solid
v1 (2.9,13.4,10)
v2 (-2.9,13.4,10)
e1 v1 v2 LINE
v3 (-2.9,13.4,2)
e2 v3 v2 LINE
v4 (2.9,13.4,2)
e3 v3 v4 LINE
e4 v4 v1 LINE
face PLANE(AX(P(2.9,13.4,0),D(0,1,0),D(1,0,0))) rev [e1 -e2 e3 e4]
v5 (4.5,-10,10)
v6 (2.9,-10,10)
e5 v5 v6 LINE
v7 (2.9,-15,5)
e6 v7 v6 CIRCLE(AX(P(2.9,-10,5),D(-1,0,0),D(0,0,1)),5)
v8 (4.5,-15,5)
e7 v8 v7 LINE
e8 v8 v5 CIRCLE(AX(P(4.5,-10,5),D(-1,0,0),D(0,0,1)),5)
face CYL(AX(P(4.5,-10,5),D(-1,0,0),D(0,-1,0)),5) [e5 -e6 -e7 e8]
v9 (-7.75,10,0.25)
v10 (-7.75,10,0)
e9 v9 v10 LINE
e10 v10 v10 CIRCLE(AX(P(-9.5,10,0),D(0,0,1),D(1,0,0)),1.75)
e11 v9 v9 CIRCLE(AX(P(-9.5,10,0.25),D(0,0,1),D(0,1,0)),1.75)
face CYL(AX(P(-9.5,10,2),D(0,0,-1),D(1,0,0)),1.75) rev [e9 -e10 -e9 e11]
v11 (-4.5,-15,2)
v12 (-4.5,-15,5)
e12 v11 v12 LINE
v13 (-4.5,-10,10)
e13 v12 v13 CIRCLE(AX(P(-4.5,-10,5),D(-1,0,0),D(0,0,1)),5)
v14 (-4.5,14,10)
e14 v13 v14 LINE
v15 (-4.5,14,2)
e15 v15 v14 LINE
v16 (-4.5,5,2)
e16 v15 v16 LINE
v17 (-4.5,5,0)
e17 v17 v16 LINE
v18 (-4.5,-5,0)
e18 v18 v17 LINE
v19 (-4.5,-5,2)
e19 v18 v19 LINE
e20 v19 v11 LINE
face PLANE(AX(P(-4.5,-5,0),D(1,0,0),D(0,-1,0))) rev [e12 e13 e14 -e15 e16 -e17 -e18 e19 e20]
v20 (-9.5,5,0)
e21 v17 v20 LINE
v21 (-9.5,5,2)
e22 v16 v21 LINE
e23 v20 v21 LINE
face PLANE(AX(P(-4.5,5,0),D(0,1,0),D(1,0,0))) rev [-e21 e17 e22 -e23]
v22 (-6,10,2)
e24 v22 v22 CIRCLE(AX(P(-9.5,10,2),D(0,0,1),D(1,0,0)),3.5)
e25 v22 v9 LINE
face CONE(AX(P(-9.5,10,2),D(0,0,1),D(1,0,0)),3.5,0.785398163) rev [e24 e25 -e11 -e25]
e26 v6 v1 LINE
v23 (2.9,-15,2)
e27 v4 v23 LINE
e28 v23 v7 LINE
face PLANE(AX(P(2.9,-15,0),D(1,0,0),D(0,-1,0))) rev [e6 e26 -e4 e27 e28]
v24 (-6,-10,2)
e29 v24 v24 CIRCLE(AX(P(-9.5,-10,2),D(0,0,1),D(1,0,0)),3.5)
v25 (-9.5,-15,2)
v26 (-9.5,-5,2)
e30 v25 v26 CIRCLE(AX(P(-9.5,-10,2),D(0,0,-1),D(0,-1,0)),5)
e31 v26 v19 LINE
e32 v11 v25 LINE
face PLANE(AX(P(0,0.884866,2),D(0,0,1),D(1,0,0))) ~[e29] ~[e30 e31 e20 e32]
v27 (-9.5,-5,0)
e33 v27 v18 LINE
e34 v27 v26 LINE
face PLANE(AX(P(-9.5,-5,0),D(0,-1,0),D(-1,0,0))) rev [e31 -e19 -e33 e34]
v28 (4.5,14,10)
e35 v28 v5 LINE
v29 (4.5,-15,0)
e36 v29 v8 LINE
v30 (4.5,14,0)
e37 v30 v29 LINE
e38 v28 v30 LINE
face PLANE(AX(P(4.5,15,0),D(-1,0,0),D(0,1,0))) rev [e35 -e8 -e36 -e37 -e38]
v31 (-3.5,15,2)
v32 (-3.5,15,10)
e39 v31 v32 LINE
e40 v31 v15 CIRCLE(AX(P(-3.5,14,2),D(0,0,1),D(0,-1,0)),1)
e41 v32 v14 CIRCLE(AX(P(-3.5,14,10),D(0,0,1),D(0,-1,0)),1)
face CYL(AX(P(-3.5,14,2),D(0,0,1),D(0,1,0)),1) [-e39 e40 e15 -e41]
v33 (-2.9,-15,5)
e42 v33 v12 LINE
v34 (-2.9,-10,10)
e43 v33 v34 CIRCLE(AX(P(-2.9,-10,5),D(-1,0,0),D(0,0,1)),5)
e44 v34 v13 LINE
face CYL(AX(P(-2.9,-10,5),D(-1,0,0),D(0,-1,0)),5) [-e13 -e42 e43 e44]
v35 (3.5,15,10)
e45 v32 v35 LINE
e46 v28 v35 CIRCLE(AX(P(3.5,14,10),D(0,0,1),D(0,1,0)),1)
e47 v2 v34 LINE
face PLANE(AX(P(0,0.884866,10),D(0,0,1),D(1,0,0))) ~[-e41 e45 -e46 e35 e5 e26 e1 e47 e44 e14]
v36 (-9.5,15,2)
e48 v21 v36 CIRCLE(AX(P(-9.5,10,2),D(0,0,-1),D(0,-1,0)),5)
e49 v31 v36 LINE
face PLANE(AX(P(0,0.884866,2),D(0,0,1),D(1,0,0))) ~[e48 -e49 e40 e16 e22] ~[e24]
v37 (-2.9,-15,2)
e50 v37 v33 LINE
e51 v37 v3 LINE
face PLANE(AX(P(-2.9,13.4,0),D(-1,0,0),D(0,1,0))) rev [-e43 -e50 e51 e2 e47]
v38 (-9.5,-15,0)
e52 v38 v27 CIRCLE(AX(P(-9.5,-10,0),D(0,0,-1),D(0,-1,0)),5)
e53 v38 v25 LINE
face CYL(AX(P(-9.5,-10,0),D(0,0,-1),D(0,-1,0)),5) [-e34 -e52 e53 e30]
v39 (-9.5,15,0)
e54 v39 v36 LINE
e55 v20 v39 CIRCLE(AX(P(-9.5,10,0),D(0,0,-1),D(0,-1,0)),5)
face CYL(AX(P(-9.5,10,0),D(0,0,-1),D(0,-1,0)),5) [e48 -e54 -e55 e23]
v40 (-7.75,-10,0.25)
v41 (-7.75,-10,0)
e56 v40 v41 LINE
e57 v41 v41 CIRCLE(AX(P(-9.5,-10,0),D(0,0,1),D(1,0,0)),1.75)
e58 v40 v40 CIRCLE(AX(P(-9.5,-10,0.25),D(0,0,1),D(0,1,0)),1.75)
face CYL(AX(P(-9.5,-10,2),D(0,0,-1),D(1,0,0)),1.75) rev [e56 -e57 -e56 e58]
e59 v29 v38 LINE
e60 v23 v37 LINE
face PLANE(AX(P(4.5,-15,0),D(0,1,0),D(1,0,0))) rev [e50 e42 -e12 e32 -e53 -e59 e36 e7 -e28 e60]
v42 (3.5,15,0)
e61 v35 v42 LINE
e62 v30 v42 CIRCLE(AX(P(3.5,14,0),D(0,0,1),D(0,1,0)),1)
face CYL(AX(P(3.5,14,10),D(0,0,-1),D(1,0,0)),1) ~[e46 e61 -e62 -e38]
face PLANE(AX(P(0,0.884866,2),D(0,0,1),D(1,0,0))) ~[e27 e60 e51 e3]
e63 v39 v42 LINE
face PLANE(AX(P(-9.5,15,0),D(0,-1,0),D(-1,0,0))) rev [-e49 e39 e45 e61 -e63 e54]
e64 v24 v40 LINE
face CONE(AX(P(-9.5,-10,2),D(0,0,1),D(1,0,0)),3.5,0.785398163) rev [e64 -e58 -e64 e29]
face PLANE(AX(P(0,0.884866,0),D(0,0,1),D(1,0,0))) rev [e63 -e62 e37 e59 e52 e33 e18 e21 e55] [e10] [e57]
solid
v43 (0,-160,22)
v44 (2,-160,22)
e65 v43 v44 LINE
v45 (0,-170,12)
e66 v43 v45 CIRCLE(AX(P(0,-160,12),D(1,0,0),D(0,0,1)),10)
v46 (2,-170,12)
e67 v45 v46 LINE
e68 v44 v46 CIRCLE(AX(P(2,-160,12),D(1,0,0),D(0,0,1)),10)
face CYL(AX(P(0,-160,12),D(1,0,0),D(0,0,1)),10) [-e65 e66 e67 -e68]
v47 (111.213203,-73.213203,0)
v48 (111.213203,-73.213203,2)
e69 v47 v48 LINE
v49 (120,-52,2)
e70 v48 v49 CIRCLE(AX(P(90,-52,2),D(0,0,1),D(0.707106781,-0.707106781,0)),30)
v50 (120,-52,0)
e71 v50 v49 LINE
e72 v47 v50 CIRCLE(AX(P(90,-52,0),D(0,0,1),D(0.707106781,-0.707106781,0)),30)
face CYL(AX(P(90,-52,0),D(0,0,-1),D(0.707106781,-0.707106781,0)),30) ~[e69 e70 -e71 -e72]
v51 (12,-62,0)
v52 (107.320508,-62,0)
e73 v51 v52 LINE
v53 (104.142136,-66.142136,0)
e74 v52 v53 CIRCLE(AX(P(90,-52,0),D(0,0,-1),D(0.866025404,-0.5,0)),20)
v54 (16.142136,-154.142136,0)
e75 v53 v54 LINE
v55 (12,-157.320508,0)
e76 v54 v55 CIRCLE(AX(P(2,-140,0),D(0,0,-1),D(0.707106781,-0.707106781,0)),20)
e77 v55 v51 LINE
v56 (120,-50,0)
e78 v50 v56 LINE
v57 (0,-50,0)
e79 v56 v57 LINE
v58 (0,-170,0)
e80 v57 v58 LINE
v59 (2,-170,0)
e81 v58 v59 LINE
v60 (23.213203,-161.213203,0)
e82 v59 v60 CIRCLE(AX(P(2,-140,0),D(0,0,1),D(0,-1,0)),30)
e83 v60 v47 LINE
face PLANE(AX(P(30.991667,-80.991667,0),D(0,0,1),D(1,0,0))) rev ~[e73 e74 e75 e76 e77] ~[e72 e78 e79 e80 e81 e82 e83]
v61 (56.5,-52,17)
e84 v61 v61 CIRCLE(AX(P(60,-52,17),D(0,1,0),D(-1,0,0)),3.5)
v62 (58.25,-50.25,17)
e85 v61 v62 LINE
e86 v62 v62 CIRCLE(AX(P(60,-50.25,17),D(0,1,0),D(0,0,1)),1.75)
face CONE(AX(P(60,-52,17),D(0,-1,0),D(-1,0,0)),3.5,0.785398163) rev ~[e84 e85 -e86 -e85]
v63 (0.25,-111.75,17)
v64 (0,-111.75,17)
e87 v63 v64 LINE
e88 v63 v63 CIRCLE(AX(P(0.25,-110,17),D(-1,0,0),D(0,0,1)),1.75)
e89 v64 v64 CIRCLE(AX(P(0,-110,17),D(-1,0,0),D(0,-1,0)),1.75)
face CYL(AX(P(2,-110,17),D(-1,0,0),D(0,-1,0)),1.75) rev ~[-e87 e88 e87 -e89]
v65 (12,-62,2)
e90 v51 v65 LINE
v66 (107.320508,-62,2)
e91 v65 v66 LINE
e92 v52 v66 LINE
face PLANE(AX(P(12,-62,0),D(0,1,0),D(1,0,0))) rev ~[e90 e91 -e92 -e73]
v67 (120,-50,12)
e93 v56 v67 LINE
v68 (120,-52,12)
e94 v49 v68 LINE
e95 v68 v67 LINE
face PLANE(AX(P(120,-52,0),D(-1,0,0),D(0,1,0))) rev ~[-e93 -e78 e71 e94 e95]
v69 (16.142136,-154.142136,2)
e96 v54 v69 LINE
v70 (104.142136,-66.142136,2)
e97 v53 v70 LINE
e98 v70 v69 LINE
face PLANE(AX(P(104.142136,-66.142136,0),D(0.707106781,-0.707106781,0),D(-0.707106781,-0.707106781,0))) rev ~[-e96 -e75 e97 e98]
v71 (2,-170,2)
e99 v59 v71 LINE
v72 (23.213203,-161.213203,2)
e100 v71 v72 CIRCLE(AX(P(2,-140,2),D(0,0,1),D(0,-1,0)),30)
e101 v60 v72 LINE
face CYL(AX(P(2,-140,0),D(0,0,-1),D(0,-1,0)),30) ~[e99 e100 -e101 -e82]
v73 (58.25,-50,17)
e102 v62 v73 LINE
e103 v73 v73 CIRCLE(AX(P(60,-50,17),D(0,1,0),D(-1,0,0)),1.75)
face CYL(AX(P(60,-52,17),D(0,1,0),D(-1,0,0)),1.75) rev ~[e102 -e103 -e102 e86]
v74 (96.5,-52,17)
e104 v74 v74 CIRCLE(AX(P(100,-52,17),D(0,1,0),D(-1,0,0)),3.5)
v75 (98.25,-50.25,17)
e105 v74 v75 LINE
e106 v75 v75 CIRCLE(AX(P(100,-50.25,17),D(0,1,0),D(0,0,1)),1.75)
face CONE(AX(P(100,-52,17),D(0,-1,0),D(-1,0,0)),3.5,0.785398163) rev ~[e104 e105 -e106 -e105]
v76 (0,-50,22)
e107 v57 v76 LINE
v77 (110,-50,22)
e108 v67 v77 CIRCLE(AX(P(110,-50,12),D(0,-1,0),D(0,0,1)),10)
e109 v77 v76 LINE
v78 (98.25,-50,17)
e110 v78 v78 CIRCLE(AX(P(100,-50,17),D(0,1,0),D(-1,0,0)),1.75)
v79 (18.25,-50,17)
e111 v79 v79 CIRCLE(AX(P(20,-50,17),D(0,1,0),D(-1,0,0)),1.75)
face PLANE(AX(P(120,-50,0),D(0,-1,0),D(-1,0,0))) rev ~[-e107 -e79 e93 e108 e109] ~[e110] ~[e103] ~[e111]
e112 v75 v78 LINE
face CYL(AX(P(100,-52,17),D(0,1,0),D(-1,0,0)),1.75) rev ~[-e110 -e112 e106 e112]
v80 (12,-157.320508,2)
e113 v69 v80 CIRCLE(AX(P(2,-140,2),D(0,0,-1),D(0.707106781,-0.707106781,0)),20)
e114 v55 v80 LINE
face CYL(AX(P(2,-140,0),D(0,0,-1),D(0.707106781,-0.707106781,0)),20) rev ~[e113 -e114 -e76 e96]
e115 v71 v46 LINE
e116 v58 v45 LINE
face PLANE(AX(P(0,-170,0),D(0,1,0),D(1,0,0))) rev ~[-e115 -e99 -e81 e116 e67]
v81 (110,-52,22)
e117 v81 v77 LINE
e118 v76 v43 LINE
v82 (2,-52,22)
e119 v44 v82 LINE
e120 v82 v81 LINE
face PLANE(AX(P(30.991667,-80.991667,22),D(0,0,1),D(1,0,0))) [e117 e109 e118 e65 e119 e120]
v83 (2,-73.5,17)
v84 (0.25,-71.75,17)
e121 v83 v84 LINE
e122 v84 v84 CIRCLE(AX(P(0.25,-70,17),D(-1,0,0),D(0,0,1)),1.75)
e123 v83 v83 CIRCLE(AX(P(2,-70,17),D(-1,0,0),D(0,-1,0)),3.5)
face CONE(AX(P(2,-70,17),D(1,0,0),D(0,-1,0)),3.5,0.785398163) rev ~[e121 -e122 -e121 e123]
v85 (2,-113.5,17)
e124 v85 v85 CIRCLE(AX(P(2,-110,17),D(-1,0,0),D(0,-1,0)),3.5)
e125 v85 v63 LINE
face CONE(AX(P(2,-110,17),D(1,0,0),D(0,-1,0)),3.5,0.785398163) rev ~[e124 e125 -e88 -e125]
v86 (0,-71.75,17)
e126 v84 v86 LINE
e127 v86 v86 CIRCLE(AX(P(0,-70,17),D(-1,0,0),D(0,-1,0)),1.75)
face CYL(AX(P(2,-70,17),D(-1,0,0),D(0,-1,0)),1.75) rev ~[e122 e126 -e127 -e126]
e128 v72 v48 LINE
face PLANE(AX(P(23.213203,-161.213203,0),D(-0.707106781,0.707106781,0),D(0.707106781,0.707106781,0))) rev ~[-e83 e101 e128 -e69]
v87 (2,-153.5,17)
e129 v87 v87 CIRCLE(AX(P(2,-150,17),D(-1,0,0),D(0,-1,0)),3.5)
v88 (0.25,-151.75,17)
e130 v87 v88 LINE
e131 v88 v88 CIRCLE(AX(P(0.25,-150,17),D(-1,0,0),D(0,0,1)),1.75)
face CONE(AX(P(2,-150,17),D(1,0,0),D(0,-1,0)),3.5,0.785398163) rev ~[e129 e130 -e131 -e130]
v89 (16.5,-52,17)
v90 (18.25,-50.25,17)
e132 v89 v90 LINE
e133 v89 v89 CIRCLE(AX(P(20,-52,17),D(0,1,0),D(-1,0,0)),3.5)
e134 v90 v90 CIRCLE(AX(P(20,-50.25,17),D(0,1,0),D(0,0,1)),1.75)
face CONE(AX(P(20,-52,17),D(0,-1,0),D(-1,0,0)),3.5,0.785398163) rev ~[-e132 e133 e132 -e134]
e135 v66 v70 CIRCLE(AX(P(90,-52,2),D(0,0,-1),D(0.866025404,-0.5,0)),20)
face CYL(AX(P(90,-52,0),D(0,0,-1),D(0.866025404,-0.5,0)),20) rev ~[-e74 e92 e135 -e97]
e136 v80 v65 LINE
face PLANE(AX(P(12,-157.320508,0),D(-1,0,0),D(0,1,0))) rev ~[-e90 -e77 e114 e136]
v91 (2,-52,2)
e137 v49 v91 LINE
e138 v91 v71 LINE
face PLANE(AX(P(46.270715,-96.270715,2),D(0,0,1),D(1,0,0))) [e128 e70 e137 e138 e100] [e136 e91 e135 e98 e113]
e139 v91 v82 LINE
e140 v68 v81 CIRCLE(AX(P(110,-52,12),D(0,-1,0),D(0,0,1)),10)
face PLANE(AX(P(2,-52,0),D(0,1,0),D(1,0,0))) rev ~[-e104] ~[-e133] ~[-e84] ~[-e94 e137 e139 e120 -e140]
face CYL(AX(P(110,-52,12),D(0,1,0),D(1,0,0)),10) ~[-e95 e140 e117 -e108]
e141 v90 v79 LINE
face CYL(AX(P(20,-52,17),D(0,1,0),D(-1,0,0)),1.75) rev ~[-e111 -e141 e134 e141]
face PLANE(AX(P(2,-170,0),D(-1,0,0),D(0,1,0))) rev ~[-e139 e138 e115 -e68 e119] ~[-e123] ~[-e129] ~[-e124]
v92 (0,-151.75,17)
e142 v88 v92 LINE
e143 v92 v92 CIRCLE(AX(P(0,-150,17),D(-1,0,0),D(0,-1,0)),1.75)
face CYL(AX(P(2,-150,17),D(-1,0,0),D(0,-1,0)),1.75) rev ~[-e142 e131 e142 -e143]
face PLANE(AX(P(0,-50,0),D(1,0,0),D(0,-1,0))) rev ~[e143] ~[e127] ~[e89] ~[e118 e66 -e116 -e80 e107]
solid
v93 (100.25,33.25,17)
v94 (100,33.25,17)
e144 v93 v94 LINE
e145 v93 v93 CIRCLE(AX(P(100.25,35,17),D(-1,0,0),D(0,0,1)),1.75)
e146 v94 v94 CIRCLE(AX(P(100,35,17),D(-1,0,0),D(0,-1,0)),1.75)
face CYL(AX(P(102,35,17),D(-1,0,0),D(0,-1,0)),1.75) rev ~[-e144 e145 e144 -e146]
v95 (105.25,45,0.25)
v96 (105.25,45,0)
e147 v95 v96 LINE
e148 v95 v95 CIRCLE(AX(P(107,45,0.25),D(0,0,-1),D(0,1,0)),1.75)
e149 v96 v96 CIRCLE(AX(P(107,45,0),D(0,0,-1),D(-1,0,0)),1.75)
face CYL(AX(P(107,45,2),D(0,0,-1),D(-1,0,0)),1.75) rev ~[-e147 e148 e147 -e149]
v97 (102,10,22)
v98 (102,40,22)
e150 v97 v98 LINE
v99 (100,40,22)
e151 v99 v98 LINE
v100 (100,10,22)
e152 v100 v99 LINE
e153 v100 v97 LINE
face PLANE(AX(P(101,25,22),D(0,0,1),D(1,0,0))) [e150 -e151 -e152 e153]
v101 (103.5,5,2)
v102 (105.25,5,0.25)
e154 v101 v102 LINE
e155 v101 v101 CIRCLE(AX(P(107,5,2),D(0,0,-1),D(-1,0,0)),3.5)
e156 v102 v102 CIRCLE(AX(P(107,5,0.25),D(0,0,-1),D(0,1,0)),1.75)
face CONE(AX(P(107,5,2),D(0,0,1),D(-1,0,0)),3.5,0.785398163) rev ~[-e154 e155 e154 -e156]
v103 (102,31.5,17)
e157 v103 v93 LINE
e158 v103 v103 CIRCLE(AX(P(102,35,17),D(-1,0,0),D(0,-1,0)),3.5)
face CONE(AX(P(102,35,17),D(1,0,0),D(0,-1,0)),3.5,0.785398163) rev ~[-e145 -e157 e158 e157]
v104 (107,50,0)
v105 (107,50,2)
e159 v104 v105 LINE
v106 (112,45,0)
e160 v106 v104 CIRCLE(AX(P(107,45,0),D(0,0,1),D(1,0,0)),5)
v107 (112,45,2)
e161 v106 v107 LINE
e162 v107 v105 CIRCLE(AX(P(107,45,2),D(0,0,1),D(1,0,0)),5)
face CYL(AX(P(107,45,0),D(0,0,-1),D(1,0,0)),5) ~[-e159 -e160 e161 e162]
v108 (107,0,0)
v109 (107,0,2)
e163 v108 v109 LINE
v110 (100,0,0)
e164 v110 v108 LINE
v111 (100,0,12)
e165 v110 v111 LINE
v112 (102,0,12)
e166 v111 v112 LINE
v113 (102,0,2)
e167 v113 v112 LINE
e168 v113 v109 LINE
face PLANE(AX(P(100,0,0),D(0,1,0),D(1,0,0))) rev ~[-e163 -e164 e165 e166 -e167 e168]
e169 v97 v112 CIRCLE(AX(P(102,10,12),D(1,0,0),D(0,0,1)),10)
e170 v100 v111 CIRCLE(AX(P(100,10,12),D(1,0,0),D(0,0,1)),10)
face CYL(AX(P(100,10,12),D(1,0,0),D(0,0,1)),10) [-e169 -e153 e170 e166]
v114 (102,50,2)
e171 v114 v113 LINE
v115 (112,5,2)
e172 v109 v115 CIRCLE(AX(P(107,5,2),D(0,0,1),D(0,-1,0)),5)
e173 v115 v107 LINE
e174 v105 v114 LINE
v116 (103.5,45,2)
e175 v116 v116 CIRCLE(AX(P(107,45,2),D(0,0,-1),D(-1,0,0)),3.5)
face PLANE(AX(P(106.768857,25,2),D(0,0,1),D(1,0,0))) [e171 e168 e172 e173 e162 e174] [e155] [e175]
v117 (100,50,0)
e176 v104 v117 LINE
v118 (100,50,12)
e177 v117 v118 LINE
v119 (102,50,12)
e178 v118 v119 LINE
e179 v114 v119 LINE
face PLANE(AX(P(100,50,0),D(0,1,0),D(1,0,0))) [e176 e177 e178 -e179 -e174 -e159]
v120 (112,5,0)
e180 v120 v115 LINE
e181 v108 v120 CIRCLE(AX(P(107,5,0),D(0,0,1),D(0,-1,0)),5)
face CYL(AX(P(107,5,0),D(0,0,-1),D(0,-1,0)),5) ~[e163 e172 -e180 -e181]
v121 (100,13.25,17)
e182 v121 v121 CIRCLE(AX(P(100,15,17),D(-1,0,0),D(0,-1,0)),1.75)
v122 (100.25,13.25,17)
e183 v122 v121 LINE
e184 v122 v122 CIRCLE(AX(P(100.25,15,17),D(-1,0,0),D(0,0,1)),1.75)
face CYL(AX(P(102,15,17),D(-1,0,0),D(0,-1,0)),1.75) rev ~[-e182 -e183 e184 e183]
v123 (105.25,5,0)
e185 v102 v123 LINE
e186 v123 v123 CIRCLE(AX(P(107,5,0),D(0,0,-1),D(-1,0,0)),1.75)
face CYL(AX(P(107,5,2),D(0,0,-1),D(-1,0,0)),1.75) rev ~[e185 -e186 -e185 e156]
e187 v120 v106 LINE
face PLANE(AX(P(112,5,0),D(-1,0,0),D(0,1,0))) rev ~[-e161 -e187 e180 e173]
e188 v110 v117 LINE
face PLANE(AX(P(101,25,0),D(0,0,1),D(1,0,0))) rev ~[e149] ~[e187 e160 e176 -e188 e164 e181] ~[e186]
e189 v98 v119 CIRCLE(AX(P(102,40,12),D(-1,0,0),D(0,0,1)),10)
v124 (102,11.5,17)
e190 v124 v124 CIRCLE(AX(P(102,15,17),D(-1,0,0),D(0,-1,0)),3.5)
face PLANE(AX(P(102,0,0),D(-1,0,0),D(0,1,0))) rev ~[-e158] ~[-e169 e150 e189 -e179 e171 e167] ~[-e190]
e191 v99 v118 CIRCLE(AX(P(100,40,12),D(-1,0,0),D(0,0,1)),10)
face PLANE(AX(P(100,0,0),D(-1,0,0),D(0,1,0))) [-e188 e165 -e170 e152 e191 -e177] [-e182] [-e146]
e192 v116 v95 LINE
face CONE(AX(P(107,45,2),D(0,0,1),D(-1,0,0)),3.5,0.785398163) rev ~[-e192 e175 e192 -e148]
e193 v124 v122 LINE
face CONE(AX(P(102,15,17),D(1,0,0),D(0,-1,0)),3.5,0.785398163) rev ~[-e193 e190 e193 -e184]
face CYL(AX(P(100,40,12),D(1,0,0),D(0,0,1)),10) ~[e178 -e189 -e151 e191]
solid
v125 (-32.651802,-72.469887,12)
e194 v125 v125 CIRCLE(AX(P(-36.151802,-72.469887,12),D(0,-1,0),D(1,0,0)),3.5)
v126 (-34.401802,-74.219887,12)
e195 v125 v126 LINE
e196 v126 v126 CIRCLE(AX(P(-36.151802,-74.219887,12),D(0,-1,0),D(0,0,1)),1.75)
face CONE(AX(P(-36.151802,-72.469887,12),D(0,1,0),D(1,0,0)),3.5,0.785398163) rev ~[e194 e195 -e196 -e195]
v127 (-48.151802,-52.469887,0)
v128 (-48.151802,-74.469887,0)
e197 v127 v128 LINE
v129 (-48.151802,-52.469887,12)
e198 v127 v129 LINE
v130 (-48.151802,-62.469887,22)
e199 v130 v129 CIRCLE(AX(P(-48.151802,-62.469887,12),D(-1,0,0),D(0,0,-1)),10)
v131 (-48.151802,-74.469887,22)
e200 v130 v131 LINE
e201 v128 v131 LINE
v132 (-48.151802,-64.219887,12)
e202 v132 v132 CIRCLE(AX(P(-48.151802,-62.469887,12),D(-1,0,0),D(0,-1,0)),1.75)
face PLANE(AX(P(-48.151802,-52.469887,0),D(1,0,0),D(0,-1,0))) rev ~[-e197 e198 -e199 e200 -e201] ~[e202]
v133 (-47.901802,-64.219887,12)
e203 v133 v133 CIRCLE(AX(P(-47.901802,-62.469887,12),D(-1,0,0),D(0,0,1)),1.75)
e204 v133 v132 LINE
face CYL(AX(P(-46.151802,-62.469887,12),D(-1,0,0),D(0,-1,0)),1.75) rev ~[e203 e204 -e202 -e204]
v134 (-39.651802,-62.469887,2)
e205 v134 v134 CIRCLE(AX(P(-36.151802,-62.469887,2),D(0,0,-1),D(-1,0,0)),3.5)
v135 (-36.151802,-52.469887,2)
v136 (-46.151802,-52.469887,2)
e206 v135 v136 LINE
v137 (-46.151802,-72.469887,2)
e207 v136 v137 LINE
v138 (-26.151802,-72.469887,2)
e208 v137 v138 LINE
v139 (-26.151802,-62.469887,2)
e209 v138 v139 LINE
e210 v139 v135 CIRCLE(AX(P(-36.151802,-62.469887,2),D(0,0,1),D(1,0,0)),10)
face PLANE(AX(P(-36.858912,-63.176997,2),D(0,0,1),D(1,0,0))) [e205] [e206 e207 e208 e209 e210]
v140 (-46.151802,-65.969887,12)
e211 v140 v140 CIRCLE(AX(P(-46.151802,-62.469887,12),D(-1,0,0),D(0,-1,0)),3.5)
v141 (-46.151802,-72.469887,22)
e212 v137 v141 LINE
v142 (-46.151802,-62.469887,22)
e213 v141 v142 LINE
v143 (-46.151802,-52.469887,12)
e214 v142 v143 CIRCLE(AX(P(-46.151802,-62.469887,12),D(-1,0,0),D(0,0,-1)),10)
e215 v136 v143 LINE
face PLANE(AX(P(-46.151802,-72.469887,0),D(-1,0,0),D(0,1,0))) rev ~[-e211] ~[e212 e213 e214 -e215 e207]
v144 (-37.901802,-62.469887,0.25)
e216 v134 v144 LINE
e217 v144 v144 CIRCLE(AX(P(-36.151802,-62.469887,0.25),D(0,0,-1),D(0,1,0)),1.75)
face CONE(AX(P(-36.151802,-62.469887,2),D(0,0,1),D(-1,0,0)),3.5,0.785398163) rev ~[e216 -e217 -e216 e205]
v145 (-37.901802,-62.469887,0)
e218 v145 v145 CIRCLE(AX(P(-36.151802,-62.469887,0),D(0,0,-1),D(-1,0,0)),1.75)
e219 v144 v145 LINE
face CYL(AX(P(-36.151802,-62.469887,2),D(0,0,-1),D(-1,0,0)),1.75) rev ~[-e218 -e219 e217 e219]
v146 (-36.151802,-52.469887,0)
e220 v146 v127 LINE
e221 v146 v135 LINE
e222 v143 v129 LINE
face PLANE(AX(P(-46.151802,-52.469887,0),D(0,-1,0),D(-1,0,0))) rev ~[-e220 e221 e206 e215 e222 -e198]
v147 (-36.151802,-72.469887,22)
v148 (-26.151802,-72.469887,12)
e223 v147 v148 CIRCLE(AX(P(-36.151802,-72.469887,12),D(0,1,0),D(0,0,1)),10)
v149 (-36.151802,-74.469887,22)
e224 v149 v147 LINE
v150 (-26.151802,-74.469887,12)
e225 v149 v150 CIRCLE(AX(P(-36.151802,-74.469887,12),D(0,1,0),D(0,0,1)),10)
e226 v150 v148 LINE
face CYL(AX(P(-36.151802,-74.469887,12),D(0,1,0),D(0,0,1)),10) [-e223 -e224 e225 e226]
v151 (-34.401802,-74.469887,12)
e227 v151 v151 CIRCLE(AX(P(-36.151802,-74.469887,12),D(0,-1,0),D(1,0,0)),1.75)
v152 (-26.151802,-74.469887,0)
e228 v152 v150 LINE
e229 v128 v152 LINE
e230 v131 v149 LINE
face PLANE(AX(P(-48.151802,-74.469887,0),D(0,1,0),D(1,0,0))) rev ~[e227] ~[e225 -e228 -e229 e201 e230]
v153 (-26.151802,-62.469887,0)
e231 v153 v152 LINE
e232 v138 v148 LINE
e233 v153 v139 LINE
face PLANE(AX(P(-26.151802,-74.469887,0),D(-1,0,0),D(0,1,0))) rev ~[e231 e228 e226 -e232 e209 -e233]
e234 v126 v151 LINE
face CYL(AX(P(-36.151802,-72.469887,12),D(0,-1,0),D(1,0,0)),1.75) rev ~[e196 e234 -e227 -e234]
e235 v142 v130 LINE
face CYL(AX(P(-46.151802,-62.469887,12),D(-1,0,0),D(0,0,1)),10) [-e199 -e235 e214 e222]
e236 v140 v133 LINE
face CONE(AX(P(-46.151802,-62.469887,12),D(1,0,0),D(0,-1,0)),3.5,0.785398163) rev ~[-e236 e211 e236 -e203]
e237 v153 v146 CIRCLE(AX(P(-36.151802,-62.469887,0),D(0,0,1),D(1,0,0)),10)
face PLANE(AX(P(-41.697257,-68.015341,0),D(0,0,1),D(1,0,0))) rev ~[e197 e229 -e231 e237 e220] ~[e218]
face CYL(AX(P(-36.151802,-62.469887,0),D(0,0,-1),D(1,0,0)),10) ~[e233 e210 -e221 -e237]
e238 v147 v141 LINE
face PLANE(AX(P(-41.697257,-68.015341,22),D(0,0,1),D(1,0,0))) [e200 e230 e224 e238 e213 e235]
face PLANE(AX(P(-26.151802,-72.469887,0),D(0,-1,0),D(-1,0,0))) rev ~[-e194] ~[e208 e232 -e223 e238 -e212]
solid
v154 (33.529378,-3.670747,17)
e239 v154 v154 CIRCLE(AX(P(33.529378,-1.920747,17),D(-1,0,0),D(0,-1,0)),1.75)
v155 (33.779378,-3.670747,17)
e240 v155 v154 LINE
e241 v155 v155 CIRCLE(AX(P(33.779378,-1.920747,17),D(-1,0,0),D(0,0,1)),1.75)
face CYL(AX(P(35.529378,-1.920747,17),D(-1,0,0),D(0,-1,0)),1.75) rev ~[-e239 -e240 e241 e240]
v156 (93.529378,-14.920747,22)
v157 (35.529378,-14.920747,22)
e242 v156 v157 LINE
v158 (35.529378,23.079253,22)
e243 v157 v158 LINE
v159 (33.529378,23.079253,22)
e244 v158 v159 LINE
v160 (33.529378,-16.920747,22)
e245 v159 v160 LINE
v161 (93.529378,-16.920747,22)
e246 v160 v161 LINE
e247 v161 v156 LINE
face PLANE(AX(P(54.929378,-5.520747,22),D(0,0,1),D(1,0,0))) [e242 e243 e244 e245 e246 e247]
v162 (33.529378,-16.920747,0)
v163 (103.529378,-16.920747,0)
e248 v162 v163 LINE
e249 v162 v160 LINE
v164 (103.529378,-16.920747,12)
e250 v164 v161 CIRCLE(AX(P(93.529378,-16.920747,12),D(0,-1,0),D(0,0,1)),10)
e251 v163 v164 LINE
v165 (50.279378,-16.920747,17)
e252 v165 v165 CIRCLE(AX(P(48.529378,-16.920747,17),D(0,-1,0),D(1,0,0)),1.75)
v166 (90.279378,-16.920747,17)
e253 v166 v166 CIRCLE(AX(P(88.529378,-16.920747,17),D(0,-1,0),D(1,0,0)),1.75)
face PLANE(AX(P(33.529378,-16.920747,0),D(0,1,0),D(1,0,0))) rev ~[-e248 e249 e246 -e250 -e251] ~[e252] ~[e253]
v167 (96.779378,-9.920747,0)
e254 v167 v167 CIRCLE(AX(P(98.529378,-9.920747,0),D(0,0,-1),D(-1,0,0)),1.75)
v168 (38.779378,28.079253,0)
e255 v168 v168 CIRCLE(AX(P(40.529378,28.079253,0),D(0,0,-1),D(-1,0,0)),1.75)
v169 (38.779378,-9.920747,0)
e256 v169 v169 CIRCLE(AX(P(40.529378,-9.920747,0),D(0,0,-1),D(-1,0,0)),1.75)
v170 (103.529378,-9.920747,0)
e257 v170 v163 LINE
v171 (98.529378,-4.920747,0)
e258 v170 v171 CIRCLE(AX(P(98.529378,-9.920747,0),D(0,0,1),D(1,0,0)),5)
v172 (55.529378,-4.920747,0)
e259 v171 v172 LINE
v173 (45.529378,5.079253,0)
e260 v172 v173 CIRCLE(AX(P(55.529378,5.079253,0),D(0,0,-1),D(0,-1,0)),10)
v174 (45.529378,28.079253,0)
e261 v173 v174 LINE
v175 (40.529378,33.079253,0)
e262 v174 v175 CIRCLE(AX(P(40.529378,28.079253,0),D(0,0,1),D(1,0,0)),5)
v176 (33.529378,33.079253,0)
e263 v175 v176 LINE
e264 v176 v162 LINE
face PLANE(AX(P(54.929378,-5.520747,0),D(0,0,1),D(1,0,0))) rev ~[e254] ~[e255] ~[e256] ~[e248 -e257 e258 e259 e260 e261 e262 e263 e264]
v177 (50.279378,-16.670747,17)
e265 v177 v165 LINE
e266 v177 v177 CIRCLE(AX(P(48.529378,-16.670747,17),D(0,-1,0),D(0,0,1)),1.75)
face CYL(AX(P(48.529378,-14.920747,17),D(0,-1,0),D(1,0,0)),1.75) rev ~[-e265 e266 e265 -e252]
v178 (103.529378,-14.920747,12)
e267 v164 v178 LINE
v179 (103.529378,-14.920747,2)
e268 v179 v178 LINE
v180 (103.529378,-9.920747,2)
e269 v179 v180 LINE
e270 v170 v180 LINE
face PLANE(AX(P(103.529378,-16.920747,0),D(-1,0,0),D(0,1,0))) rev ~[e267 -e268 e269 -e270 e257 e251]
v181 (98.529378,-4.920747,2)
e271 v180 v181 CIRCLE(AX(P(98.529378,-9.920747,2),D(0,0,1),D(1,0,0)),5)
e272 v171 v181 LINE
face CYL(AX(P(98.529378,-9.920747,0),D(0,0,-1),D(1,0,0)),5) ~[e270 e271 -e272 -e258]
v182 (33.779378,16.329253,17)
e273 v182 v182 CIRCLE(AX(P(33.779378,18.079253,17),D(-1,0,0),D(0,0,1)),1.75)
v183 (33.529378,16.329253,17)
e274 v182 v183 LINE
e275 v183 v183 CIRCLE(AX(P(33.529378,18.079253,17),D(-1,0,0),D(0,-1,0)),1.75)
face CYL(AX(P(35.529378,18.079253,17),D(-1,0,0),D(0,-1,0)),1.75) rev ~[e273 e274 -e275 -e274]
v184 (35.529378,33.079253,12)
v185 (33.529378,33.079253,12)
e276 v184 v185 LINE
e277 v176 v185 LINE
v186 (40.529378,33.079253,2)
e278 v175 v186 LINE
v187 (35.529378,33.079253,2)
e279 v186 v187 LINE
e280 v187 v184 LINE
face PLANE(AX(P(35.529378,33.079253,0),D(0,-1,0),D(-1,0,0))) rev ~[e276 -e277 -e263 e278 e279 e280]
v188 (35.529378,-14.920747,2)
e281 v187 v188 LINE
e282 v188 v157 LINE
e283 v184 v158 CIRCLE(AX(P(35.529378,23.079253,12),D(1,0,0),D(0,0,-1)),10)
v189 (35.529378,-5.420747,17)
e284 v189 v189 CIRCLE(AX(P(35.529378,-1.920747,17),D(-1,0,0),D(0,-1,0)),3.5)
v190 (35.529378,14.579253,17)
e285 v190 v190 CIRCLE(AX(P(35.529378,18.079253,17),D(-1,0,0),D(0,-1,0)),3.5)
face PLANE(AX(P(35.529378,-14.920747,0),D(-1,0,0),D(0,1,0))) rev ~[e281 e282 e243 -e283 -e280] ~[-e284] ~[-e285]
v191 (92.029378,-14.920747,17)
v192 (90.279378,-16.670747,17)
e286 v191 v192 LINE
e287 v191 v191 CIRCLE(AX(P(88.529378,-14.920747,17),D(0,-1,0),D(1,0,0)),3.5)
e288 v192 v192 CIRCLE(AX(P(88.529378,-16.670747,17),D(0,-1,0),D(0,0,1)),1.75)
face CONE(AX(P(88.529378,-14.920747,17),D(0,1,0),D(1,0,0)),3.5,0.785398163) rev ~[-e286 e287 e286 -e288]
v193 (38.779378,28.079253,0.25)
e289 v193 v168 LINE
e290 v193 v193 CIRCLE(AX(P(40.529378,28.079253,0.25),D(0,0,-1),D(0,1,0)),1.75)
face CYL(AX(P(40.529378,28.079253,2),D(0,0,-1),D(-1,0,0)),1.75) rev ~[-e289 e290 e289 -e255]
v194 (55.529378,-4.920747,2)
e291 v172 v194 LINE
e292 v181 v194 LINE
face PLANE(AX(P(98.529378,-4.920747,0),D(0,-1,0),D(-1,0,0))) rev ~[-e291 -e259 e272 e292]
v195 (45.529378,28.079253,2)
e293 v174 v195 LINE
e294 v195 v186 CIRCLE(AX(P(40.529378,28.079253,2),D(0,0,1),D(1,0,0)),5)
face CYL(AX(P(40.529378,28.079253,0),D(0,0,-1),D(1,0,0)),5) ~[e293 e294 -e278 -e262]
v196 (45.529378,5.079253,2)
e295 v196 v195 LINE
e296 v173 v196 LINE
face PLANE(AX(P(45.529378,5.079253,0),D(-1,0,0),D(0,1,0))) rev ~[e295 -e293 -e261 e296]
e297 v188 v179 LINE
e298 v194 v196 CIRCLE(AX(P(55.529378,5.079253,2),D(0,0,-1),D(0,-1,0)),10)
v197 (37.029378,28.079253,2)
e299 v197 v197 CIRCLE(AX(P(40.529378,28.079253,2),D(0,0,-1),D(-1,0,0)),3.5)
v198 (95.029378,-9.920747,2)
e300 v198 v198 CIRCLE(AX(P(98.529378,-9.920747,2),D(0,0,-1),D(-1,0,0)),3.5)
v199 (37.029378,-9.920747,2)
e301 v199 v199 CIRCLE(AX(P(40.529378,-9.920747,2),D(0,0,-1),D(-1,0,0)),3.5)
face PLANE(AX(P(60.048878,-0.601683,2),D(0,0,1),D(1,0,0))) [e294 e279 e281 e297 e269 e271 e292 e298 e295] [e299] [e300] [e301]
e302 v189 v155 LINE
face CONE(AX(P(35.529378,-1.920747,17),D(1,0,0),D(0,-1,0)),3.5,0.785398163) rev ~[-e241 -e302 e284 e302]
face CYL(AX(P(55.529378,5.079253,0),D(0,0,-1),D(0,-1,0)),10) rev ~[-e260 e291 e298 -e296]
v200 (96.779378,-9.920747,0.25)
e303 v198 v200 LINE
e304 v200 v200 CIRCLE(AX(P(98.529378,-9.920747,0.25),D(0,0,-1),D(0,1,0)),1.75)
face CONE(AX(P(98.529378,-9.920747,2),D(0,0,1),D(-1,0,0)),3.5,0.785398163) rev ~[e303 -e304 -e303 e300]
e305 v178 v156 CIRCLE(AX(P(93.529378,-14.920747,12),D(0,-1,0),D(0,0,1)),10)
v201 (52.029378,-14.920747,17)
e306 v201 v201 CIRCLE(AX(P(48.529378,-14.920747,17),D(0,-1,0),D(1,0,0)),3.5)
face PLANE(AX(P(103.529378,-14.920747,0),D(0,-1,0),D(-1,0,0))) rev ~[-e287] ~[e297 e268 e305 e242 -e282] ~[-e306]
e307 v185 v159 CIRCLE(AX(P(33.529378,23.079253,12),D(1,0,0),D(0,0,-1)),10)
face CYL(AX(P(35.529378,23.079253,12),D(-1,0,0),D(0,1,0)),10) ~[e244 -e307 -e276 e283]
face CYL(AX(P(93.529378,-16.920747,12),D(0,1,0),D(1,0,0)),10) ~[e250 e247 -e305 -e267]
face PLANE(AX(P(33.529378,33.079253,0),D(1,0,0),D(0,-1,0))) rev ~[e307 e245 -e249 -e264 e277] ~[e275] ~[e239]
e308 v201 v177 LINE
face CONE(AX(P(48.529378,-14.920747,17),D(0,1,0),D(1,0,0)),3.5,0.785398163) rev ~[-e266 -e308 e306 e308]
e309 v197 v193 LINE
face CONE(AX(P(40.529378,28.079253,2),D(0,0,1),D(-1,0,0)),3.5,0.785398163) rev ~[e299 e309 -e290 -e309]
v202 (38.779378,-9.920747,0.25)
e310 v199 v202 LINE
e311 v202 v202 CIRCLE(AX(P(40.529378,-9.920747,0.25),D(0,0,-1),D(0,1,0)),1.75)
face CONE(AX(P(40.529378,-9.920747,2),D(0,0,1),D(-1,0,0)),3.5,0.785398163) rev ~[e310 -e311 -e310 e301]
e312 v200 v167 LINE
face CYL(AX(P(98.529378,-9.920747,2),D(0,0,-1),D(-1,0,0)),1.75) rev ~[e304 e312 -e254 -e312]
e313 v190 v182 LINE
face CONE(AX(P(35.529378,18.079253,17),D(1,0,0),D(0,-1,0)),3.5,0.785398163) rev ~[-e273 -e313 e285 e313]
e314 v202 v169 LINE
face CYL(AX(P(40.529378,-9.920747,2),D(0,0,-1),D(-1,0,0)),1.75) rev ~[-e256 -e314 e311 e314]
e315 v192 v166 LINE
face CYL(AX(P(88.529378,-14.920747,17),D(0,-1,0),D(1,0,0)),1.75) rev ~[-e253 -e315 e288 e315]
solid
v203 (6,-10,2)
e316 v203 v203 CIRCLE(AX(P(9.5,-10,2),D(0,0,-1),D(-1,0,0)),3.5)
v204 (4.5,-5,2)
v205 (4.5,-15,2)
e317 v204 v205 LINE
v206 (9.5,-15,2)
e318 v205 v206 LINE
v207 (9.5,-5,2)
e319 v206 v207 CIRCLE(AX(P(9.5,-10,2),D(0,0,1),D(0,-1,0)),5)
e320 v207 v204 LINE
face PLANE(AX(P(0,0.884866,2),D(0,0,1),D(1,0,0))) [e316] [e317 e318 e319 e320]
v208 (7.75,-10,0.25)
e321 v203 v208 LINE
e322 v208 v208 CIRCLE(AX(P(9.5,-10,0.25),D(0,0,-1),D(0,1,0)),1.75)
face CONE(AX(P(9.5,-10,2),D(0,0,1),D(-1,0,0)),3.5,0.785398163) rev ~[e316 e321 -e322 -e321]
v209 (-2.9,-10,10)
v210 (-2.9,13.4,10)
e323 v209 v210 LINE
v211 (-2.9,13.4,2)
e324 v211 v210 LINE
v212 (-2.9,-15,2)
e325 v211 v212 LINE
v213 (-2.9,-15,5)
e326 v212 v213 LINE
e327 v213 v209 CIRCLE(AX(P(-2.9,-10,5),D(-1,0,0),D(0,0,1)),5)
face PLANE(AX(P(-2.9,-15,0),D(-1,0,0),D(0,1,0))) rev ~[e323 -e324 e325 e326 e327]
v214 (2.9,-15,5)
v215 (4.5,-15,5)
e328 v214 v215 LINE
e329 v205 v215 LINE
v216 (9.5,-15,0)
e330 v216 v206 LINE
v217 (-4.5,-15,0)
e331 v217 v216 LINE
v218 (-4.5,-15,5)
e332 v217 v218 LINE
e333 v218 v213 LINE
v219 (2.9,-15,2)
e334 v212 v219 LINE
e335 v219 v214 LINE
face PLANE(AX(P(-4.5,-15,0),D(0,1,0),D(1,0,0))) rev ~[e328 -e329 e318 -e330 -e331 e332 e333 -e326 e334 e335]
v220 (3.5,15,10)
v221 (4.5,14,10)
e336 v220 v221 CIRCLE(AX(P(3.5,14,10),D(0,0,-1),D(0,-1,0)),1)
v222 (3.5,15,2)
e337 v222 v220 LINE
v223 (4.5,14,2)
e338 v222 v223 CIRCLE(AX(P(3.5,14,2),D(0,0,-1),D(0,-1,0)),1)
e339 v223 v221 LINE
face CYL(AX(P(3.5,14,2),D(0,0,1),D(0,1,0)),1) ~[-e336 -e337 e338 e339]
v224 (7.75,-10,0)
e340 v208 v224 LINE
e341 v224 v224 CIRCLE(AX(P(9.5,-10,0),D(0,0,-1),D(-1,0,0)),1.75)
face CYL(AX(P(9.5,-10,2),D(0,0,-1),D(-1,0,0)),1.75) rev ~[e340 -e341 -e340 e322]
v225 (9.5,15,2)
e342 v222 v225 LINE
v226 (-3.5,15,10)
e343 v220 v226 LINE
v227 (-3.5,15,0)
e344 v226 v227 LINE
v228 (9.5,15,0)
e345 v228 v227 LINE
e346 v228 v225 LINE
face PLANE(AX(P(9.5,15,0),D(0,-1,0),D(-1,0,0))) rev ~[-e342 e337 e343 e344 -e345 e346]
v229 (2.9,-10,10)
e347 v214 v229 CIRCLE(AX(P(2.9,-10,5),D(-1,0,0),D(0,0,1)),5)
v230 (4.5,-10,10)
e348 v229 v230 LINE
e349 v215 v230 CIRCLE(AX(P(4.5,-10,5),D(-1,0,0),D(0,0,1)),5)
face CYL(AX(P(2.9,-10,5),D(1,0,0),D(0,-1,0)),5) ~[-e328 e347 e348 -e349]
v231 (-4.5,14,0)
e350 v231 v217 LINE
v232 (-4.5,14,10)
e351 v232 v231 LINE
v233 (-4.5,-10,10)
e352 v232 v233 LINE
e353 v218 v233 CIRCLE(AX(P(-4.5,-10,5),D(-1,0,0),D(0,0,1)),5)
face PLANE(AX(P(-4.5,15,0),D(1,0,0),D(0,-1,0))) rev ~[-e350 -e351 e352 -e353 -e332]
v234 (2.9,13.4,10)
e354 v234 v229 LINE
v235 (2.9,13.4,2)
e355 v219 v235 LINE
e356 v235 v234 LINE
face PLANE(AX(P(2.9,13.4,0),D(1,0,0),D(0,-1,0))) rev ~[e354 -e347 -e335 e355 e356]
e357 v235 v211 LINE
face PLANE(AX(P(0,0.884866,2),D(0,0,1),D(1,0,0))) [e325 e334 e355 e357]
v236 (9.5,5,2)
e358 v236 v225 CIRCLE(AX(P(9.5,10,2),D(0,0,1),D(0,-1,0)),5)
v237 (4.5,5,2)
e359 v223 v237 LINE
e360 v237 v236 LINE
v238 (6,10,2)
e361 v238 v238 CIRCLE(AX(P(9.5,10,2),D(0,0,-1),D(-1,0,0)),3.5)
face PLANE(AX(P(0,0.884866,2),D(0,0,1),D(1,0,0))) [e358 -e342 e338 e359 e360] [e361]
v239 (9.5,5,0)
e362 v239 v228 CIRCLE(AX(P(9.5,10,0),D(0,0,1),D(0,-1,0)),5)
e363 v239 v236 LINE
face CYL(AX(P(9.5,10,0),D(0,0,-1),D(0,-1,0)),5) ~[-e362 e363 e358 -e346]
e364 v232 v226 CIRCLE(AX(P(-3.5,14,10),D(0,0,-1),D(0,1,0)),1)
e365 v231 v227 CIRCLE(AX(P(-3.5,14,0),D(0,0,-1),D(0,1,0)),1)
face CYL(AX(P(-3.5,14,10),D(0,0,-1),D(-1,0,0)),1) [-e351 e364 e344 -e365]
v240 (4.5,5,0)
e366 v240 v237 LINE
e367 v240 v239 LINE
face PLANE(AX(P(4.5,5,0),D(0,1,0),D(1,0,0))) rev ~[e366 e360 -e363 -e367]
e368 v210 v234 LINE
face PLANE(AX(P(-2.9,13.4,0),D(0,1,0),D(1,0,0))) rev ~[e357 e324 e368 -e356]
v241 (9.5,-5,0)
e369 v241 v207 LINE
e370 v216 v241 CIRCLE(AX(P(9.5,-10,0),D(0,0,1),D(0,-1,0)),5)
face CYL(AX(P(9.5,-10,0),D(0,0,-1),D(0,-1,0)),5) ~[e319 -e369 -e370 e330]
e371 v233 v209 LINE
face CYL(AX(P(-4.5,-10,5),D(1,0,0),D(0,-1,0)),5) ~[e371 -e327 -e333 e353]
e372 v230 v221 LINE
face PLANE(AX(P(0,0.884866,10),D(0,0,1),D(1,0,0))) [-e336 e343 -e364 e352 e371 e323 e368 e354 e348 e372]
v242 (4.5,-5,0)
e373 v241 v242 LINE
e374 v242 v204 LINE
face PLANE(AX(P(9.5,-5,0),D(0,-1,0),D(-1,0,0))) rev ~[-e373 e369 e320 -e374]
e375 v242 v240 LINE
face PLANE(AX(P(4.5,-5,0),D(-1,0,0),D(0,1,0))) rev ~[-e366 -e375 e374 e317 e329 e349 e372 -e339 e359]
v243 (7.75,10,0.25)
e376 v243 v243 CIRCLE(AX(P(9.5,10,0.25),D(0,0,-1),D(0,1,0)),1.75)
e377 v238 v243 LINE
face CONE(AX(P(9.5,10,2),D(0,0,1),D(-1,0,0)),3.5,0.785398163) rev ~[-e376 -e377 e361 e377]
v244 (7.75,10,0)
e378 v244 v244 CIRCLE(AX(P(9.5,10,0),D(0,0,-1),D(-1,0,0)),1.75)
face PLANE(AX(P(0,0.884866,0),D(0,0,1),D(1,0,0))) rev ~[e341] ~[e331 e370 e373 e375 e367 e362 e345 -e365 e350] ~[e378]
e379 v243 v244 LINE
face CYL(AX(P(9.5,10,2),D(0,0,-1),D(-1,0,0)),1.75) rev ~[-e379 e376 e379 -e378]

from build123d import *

# Parameters (mm, degrees)
F0_W                     = 5.8
F0_H                     = 28.4
F1_DEPTH                 = 2
F2_DEPTH                 = 10
F4_R                     = 5
F5_R                     = 1
F6_D                     = 3.5
F6_DEPTH                 = 20
F6_CSINK_D               = 7
F6_CSINK_ANGLE           = 90
F6_TIP                   = 1.0515060833
F11_DEPTH                = 2
F12_DEPTH                = 22
F8_W                     = 2
F8_H                     = 50
F13_R                    = 10
F13_2_R                  = 10
F13_3_R                  = 10
F13_4_R                  = 10
F23_D                    = 3.5
F23_DEPTH                = 20
F23_CSINK_D              = 7
F23_CSINK_ANGLE          = 90
F23_TIP                  = 1.0515060833
F23_ON_F15_D             = 3.5
F23_ON_F15_DEPTH         = 20
F23_ON_F15_CSINK_D       = 7
F23_ON_F15_CSINK_ANGLE   = 90
F23_ON_F15_TIP           = 1.0515060833
F23_ON_F16_D             = 3.5
F23_ON_F16_DEPTH         = 20
F23_ON_F16_CSINK_D       = 7
F23_ON_F16_CSINK_ANGLE   = 90
F23_ON_F16_TIP           = 1.0515060833
F23_ON_F16_2_D           = 3.5
F23_ON_F16_2_DEPTH       = 20
F23_ON_F16_2_CSINK_D     = 7
F23_ON_F16_2_CSINK_ANGLE = 90
F23_ON_F16_2_TIP         = 1.0515060833
F23_ON_F17_D             = 3.5
F23_ON_F17_DEPTH         = 20
F23_ON_F17_CSINK_D       = 7
F23_ON_F17_CSINK_ANGLE   = 90
F23_ON_F17_TIP           = 1.0515060833
F23_ON_F19_D             = 3.5
F23_ON_F19_DEPTH         = 20
F23_ON_F19_CSINK_D       = 7
F23_ON_F19_CSINK_ANGLE   = 90
F23_ON_F19_TIP           = 1.0515060833
F23_ON_F18_D             = 3.5
F23_ON_F18_DEPTH         = 20
F23_ON_F18_CSINK_D       = 7
F23_ON_F18_CSINK_ANGLE   = 90
F23_ON_F18_TIP           = 1.0515060833
F23_ON_F20_D             = 3.5
F23_ON_F20_DEPTH         = 20
F23_ON_F20_CSINK_D       = 7
F23_ON_F20_CSINK_ANGLE   = 90
F23_ON_F20_TIP           = 1.0515060833
F23_ON_F22_D             = 3.5
F23_ON_F22_DEPTH         = 20
F23_ON_F22_CSINK_D       = 7
F23_ON_F22_CSINK_ANGLE   = 90
F23_ON_F22_TIP           = 1.0515060833
F23_ON_F21_D             = 3.5
F23_ON_F21_DEPTH         = 20
F23_ON_F21_CSINK_D       = 7
F23_ON_F21_CSINK_ANGLE   = 90
F23_ON_F21_TIP           = 1.0515060833


with BuildPart() as f1:
    # F0 (on Top) → F1 (new body)
    with BuildSketch(Plane.XY):
        Polygon((4.5, 15), (-4.5, 15), (-4.5, -15), (-2.9, -15), (-2.9, 13.4), (2.9, 13.4), (2.9, -15), (4.5, -15), (4.5, -5), (4.5, 5), align=None)
        with BuildLine():
            Line((9.5, 15), (4.5, 15))
            Line((4.5, 15), (4.5, 5))
            Line((4.5, 5), (9.5, 5))
            ThreePointArc((9.5, 5), (14.5, 10), (9.5, 15))
        make_face()
        with Locations((0, -0.8)):
            Rectangle(F0_W, F0_H)
        with BuildLine():
            Line((9.5, -5), (4.5, -5))
            Line((4.5, -5), (4.5, -15))
            Line((4.5, -15), (9.5, -15))
            ThreePointArc((9.5, -15), (14.5, -10), (9.5, -5))
        make_face()
    extrude(amount=F1_DEPTH)

    # F0 (on Top) → F2 (join)
    with BuildSketch(Plane.XY):
        Polygon((4.5, 15), (-4.5, 15), (-4.5, -15), (-2.9, -15), (-2.9, 13.4), (2.9, 13.4), (2.9, -15), (4.5, -15), (4.5, -5), (4.5, 5), align=None)
    extrude(amount=F2_DEPTH)

    # F4
    f4_edges = [f1.edges().sort_by_distance(p)[0] for p in [
        (-3.7, -15, 10),
        (3.7, -15, 10),
    ]]
    fillet(f4_edges, radius=F4_R)

    # F5
    f5_edges = [f1.edges().sort_by_distance(p)[0] for p in [
        (4.5, 15, 6),
        (-4.5, 15, 5),
    ]]
    fillet(f5_edges, radius=F5_R)

    # F6
    with Locations(Plane.XY.offset(2)):
        with Locations((9.5, 10), (9.5, -10)):
            CounterSinkHole(F6_D / 2, F6_CSINK_D / 2, depth=F6_DEPTH, counter_sink_angle=F6_CSINK_ANGLE)
            with Locations((0, 0, -(F6_DEPTH + F6_TIP / 2))):  # 118° drill point
                Cone(0, F6_D / 2, F6_TIP, mode=Mode.SUBTRACT)


with BuildPart() as f7_1:
    # F7: instance of F1
    add(f1.part.mirror(Plane.YZ))


with BuildPart() as f11:
    # F8 (on Top) → F11 (new body)
    with BuildSketch(Plane.XY):
        with BuildLine():
            Line((40.5293784738, 33.0792527646), (35.5293784738, 33.0792527646))
            Line((35.5293784738, 33.0792527646), (35.5293784738, -14.9207472354))
            Line((35.5293784738, -14.9207472354), (103.5293784738, -14.9207472354))
            Line((103.5293784738, -14.9207472354), (103.5293784738, -9.9207472354))
            ThreePointArc((103.5293784738, -9.9207472354), (102.0649123797, -6.3852133295), (98.5293784738, -4.9207472354))
            Line((98.5293784738, -4.9207472354), (55.5293784738, -4.9207472354))
            ThreePointArc((55.5293784738, -4.9207472354), (48.4583106619, -1.9918150473), (45.5293784738, 5.0792527646))
            Line((45.5293784738, 5.0792527646), (45.5293784738, 28.0792527646))
            ThreePointArc((45.5293784738, 28.0792527646), (44.0649123797, 31.6147866705), (40.5293784738, 33.0792527646))
        make_face()
    extrude(amount=F11_DEPTH)

    # F8 (on Top) → F12 (join)
    with BuildSketch(Plane.XY):
        Polygon((35.5293784738, 33.0792527646), (33.5293784738, 33.0792527646), (33.5293784738, -16.9207472354), (103.5293784738, -16.9207472354), (103.5293784738, -14.9207472354), (35.5293784738, -14.9207472354), align=None)
    extrude(amount=F12_DEPTH)

    # F13
    f13_edges = [f11.edges().sort_by_distance(p)[0] for p in [
        (34.529378, 33.079253, 22),
        (103.529378, -15.920747, 22),
    ]]
    fillet(f13_edges, radius=F13_R)

    # F23
    with Locations(Plane.YZ.offset(35.5293784738)):
        with Locations((18.0792527646, 17), (-1.9207472354, 17)):
            CounterSinkHole(F23_D / 2, F23_CSINK_D / 2, depth=F23_DEPTH, counter_sink_angle=F23_CSINK_ANGLE)
            with Locations((0, 0, -(F23_DEPTH + F23_TIP / 2))):  # 118° drill point
                Cone(0, F23_D / 2, F23_TIP, mode=Mode.SUBTRACT)

    # F23 on F15
    with Locations(Plane(origin=(0, -14.9207472354, 0), x_dir=(-1, 0, 0), z_dir=(0, 1, 0))):
        with Locations((-48.5293784738, 17), (-88.5293784738, 17)):
            CounterSinkHole(F23_ON_F15_D / 2, F23_ON_F15_CSINK_D / 2, depth=F23_ON_F15_DEPTH, counter_sink_angle=F23_ON_F15_CSINK_ANGLE)
            with Locations((0, 0, -(F23_ON_F15_DEPTH + F23_ON_F15_TIP / 2))):  # 118° drill point
                Cone(0, F23_ON_F15_D / 2, F23_ON_F15_TIP, mode=Mode.SUBTRACT)

    # F23 on F16
    with Locations(Plane.XY.offset(2)):
        with Locations((98.5293784738, -9.9207472354), (40.5293784738, 28.0792527646), (40.5293784738, -9.9207472354), (107, 5), (107, 45)):
            CounterSinkHole(F23_ON_F16_D / 2, F23_ON_F16_CSINK_D / 2, depth=F23_ON_F16_DEPTH, counter_sink_angle=F23_ON_F16_CSINK_ANGLE)
            with Locations((0, 0, -(F23_ON_F16_DEPTH + F23_ON_F16_TIP / 2))):  # 118° drill point
                Cone(0, F23_ON_F16_D / 2, F23_ON_F16_TIP, mode=Mode.SUBTRACT)


with BuildPart() as f11b:
    # F8 (on Top) → F11, piece 2 (new body)
    with BuildSketch(Plane.XY):
        with BuildLine():
            Line((107, 50), (102, 50))
            Line((102, 50), (102, 0))
            Line((102, 0), (107, 0))
            ThreePointArc((107, 0), (110.5355339059, 1.4644660941), (112, 5))
            Line((112, 5), (112, 45))
            ThreePointArc((112, 45), (110.5355339059, 48.5355339059), (107, 50))
        make_face()
    extrude(amount=F11_DEPTH)

    # F8 (on Top) → F12, piece 2 (join)
    with BuildSketch(Plane.XY):
        with Locations((101, 25)):
            Rectangle(F8_W, F8_H)
    extrude(amount=F12_DEPTH)

    # F13#2
    f13_2_edges = [f11b.edges().sort_by_distance(p)[0] for p in [
        (101, 50, 22),
        (101, 0, 22),
    ]]
    fillet(f13_2_edges, radius=F13_2_R)

    # F23 on F16#2
    with Locations(Plane.XY.offset(2)):
        with Locations((98.5293784738, -9.9207472354), (40.5293784738, 28.0792527646), (40.5293784738, -9.9207472354), (107, 5), (107, 45)):
            CounterSinkHole(F23_ON_F16_2_D / 2, F23_ON_F16_2_CSINK_D / 2, depth=F23_ON_F16_2_DEPTH, counter_sink_angle=F23_ON_F16_2_CSINK_ANGLE)
            with Locations((0, 0, -(F23_ON_F16_2_DEPTH + F23_ON_F16_2_TIP / 2))):  # 118° drill point
                Cone(0, F23_ON_F16_2_D / 2, F23_ON_F16_2_TIP, mode=Mode.SUBTRACT)

    # F23 on F17
    with Locations(Plane.YZ.offset(102)):
        with Locations((35, 17), (15, 17)):
            CounterSinkHole(F23_ON_F17_D / 2, F23_ON_F17_CSINK_D / 2, depth=F23_ON_F17_DEPTH, counter_sink_angle=F23_ON_F17_CSINK_ANGLE)
            with Locations((0, 0, -(F23_ON_F17_DEPTH + F23_ON_F17_TIP / 2))):  # 118° drill point
                Cone(0, F23_ON_F17_D / 2, F23_ON_F17_TIP, mode=Mode.SUBTRACT)


with BuildPart() as f11c:
    # F9 (on Top) → F11, piece 3 (new body)
    with BuildSketch(Plane.XY):
        with BuildLine():
            ThreePointArc((111.2132034356, -73.2132034356), (117.7163859753, -63.480502971), (120, -52))
            Line((120, -52), (2, -52))
            Line((2, -52), (2, -170))
            ThreePointArc((2, -170), (13.480502971, -167.7163859753), (23.2132034356, -161.2132034356))
            Line((23.2132034356, -161.2132034356), (111.2132034356, -73.2132034356))
        make_face()
        with BuildLine():
            ThreePointArc((107.3205080757, -62), (105.8670668058, -64.1752285802), (104.1421356237, -66.1421356237))
            Line((104.1421356237, -66.1421356237), (16.1421356237, -154.1421356237))
            ThreePointArc((16.1421356237, -154.1421356237), (14.1752285802, -155.8670668058), (12, -157.3205080757))
            Line((12, -157.3205080757), (12, -62))
            Line((12, -62), (107.3205080757, -62))
        make_face(mode=Mode.SUBTRACT)
    extrude(amount=F11_DEPTH)

    # F9 (on Top) → F12, piece 3 (join)
    with BuildSketch(Plane.XY):
        Polygon((120, -50), (0, -50), (0, -170), (2, -170), (2, -52), (120, -52), align=None)
    extrude(amount=F12_DEPTH)

    # F13#3
    f13_3_edges = [f11c.edges().sort_by_distance(p)[0] for p in [
        (1, -170, 22),
        (120, -51, 22),
    ]]
    fillet(f13_3_edges, radius=F13_3_R)

    # F23 on F19
    with Locations(Plane.YZ.offset(2)):
        with Locations((-70, 17), (-110, 17), (-150, 17)):
            CounterSinkHole(F23_ON_F19_D / 2, F23_ON_F19_CSINK_D / 2, depth=F23_ON_F19_DEPTH, counter_sink_angle=F23_ON_F19_CSINK_ANGLE)
            with Locations((0, 0, -(F23_ON_F19_DEPTH + F23_ON_F19_TIP / 2))):  # 118° drill point
                Cone(0, F23_ON_F19_D / 2, F23_ON_F19_TIP, mode=Mode.SUBTRACT)

    # F23 on F18
    with Locations(Plane.XZ.offset(52)):
        with Locations((20, 17), (60, 17), (100, 17)):
            CounterSinkHole(F23_ON_F18_D / 2, F23_ON_F18_CSINK_D / 2, depth=F23_ON_F18_DEPTH, counter_sink_angle=F23_ON_F18_CSINK_ANGLE)
            with Locations((0, 0, -(F23_ON_F18_DEPTH + F23_ON_F18_TIP / 2))):  # 118° drill point
                Cone(0, F23_ON_F18_D / 2, F23_ON_F18_TIP, mode=Mode.SUBTRACT)


with BuildPart() as f11d:
    # F10 (on Top) → F11, piece 4 (new body)
    with BuildSketch(Plane.XY):
        with BuildLine():
            Line((-46.1518022716, -72.4698867202), (-26.1518022716, -72.4698867202))
            Line((-26.1518022716, -72.4698867202), (-26.1518022716, -62.4698867202))
            ThreePointArc((-26.1518022716, -62.4698867202), (-29.0807344597, -55.3988189083), (-36.1518022716, -52.4698867202))
            Line((-36.1518022716, -52.4698867202), (-46.1518022716, -52.4698867202))
            Line((-46.1518022716, -52.4698867202), (-46.1518022716, -72.4698867202))
        make_face()
    extrude(amount=F11_DEPTH)

    # F10 (on Top) → F12, piece 4 (join)
    with BuildSketch(Plane.XY):
        Polygon((-48.1518022716, -52.4698867202), (-48.1518022716, -74.4698867202), (-26.1518022716, -74.4698867202), (-26.1518022716, -72.4698867202), (-46.1518022716, -72.4698867202), (-46.1518022716, -52.4698867202), align=None)
    extrude(amount=F12_DEPTH)

    # F13#4
    f13_4_edges = [f11d.edges().sort_by_distance(p)[0] for p in [
        (-26.151802, -73.469887, 22),
        (-47.151802, -52.469887, 22),
    ]]
    fillet(f13_4_edges, radius=F13_4_R)

    # F23 on F20
    with Locations(Plane.YZ.offset(-46.1518022716)):
        with Locations((-62.4698867202, 12)):
            CounterSinkHole(F23_ON_F20_D / 2, F23_ON_F20_CSINK_D / 2, depth=F23_ON_F20_DEPTH, counter_sink_angle=F23_ON_F20_CSINK_ANGLE)
            with Locations((0, 0, -(F23_ON_F20_DEPTH + F23_ON_F20_TIP / 2))):  # 118° drill point
                Cone(0, F23_ON_F20_D / 2, F23_ON_F20_TIP, mode=Mode.SUBTRACT)

    # F23 on F22
    with Locations(Plane(origin=(0, -72.4698867202, 0), x_dir=(-1, 0, 0), z_dir=(0, 1, 0))):
        with Locations((36.1518022716, 12)):
            CounterSinkHole(F23_ON_F22_D / 2, F23_ON_F22_CSINK_D / 2, depth=F23_ON_F22_DEPTH, counter_sink_angle=F23_ON_F22_CSINK_ANGLE)
            with Locations((0, 0, -(F23_ON_F22_DEPTH + F23_ON_F22_TIP / 2))):  # 118° drill point
                Cone(0, F23_ON_F22_D / 2, F23_ON_F22_TIP, mode=Mode.SUBTRACT)

    # F23 on F21
    with Locations(Plane.XY.offset(2)):
        with Locations((-36.1518022716, -62.4698867202)):
            CounterSinkHole(F23_ON_F21_D / 2, F23_ON_F21_CSINK_D / 2, depth=F23_ON_F21_DEPTH, counter_sink_angle=F23_ON_F21_CSINK_ANGLE)
            with Locations((0, 0, -(F23_ON_F21_DEPTH + F23_ON_F21_TIP / 2))):  # 118° drill point
                Cone(0, F23_ON_F21_D / 2, F23_ON_F21_TIP, mode=Mode.SUBTRACT)


solid = Compound([f1.part, f7_1.part, f11.part, f11b.part, f11c.part, f11d.part])
